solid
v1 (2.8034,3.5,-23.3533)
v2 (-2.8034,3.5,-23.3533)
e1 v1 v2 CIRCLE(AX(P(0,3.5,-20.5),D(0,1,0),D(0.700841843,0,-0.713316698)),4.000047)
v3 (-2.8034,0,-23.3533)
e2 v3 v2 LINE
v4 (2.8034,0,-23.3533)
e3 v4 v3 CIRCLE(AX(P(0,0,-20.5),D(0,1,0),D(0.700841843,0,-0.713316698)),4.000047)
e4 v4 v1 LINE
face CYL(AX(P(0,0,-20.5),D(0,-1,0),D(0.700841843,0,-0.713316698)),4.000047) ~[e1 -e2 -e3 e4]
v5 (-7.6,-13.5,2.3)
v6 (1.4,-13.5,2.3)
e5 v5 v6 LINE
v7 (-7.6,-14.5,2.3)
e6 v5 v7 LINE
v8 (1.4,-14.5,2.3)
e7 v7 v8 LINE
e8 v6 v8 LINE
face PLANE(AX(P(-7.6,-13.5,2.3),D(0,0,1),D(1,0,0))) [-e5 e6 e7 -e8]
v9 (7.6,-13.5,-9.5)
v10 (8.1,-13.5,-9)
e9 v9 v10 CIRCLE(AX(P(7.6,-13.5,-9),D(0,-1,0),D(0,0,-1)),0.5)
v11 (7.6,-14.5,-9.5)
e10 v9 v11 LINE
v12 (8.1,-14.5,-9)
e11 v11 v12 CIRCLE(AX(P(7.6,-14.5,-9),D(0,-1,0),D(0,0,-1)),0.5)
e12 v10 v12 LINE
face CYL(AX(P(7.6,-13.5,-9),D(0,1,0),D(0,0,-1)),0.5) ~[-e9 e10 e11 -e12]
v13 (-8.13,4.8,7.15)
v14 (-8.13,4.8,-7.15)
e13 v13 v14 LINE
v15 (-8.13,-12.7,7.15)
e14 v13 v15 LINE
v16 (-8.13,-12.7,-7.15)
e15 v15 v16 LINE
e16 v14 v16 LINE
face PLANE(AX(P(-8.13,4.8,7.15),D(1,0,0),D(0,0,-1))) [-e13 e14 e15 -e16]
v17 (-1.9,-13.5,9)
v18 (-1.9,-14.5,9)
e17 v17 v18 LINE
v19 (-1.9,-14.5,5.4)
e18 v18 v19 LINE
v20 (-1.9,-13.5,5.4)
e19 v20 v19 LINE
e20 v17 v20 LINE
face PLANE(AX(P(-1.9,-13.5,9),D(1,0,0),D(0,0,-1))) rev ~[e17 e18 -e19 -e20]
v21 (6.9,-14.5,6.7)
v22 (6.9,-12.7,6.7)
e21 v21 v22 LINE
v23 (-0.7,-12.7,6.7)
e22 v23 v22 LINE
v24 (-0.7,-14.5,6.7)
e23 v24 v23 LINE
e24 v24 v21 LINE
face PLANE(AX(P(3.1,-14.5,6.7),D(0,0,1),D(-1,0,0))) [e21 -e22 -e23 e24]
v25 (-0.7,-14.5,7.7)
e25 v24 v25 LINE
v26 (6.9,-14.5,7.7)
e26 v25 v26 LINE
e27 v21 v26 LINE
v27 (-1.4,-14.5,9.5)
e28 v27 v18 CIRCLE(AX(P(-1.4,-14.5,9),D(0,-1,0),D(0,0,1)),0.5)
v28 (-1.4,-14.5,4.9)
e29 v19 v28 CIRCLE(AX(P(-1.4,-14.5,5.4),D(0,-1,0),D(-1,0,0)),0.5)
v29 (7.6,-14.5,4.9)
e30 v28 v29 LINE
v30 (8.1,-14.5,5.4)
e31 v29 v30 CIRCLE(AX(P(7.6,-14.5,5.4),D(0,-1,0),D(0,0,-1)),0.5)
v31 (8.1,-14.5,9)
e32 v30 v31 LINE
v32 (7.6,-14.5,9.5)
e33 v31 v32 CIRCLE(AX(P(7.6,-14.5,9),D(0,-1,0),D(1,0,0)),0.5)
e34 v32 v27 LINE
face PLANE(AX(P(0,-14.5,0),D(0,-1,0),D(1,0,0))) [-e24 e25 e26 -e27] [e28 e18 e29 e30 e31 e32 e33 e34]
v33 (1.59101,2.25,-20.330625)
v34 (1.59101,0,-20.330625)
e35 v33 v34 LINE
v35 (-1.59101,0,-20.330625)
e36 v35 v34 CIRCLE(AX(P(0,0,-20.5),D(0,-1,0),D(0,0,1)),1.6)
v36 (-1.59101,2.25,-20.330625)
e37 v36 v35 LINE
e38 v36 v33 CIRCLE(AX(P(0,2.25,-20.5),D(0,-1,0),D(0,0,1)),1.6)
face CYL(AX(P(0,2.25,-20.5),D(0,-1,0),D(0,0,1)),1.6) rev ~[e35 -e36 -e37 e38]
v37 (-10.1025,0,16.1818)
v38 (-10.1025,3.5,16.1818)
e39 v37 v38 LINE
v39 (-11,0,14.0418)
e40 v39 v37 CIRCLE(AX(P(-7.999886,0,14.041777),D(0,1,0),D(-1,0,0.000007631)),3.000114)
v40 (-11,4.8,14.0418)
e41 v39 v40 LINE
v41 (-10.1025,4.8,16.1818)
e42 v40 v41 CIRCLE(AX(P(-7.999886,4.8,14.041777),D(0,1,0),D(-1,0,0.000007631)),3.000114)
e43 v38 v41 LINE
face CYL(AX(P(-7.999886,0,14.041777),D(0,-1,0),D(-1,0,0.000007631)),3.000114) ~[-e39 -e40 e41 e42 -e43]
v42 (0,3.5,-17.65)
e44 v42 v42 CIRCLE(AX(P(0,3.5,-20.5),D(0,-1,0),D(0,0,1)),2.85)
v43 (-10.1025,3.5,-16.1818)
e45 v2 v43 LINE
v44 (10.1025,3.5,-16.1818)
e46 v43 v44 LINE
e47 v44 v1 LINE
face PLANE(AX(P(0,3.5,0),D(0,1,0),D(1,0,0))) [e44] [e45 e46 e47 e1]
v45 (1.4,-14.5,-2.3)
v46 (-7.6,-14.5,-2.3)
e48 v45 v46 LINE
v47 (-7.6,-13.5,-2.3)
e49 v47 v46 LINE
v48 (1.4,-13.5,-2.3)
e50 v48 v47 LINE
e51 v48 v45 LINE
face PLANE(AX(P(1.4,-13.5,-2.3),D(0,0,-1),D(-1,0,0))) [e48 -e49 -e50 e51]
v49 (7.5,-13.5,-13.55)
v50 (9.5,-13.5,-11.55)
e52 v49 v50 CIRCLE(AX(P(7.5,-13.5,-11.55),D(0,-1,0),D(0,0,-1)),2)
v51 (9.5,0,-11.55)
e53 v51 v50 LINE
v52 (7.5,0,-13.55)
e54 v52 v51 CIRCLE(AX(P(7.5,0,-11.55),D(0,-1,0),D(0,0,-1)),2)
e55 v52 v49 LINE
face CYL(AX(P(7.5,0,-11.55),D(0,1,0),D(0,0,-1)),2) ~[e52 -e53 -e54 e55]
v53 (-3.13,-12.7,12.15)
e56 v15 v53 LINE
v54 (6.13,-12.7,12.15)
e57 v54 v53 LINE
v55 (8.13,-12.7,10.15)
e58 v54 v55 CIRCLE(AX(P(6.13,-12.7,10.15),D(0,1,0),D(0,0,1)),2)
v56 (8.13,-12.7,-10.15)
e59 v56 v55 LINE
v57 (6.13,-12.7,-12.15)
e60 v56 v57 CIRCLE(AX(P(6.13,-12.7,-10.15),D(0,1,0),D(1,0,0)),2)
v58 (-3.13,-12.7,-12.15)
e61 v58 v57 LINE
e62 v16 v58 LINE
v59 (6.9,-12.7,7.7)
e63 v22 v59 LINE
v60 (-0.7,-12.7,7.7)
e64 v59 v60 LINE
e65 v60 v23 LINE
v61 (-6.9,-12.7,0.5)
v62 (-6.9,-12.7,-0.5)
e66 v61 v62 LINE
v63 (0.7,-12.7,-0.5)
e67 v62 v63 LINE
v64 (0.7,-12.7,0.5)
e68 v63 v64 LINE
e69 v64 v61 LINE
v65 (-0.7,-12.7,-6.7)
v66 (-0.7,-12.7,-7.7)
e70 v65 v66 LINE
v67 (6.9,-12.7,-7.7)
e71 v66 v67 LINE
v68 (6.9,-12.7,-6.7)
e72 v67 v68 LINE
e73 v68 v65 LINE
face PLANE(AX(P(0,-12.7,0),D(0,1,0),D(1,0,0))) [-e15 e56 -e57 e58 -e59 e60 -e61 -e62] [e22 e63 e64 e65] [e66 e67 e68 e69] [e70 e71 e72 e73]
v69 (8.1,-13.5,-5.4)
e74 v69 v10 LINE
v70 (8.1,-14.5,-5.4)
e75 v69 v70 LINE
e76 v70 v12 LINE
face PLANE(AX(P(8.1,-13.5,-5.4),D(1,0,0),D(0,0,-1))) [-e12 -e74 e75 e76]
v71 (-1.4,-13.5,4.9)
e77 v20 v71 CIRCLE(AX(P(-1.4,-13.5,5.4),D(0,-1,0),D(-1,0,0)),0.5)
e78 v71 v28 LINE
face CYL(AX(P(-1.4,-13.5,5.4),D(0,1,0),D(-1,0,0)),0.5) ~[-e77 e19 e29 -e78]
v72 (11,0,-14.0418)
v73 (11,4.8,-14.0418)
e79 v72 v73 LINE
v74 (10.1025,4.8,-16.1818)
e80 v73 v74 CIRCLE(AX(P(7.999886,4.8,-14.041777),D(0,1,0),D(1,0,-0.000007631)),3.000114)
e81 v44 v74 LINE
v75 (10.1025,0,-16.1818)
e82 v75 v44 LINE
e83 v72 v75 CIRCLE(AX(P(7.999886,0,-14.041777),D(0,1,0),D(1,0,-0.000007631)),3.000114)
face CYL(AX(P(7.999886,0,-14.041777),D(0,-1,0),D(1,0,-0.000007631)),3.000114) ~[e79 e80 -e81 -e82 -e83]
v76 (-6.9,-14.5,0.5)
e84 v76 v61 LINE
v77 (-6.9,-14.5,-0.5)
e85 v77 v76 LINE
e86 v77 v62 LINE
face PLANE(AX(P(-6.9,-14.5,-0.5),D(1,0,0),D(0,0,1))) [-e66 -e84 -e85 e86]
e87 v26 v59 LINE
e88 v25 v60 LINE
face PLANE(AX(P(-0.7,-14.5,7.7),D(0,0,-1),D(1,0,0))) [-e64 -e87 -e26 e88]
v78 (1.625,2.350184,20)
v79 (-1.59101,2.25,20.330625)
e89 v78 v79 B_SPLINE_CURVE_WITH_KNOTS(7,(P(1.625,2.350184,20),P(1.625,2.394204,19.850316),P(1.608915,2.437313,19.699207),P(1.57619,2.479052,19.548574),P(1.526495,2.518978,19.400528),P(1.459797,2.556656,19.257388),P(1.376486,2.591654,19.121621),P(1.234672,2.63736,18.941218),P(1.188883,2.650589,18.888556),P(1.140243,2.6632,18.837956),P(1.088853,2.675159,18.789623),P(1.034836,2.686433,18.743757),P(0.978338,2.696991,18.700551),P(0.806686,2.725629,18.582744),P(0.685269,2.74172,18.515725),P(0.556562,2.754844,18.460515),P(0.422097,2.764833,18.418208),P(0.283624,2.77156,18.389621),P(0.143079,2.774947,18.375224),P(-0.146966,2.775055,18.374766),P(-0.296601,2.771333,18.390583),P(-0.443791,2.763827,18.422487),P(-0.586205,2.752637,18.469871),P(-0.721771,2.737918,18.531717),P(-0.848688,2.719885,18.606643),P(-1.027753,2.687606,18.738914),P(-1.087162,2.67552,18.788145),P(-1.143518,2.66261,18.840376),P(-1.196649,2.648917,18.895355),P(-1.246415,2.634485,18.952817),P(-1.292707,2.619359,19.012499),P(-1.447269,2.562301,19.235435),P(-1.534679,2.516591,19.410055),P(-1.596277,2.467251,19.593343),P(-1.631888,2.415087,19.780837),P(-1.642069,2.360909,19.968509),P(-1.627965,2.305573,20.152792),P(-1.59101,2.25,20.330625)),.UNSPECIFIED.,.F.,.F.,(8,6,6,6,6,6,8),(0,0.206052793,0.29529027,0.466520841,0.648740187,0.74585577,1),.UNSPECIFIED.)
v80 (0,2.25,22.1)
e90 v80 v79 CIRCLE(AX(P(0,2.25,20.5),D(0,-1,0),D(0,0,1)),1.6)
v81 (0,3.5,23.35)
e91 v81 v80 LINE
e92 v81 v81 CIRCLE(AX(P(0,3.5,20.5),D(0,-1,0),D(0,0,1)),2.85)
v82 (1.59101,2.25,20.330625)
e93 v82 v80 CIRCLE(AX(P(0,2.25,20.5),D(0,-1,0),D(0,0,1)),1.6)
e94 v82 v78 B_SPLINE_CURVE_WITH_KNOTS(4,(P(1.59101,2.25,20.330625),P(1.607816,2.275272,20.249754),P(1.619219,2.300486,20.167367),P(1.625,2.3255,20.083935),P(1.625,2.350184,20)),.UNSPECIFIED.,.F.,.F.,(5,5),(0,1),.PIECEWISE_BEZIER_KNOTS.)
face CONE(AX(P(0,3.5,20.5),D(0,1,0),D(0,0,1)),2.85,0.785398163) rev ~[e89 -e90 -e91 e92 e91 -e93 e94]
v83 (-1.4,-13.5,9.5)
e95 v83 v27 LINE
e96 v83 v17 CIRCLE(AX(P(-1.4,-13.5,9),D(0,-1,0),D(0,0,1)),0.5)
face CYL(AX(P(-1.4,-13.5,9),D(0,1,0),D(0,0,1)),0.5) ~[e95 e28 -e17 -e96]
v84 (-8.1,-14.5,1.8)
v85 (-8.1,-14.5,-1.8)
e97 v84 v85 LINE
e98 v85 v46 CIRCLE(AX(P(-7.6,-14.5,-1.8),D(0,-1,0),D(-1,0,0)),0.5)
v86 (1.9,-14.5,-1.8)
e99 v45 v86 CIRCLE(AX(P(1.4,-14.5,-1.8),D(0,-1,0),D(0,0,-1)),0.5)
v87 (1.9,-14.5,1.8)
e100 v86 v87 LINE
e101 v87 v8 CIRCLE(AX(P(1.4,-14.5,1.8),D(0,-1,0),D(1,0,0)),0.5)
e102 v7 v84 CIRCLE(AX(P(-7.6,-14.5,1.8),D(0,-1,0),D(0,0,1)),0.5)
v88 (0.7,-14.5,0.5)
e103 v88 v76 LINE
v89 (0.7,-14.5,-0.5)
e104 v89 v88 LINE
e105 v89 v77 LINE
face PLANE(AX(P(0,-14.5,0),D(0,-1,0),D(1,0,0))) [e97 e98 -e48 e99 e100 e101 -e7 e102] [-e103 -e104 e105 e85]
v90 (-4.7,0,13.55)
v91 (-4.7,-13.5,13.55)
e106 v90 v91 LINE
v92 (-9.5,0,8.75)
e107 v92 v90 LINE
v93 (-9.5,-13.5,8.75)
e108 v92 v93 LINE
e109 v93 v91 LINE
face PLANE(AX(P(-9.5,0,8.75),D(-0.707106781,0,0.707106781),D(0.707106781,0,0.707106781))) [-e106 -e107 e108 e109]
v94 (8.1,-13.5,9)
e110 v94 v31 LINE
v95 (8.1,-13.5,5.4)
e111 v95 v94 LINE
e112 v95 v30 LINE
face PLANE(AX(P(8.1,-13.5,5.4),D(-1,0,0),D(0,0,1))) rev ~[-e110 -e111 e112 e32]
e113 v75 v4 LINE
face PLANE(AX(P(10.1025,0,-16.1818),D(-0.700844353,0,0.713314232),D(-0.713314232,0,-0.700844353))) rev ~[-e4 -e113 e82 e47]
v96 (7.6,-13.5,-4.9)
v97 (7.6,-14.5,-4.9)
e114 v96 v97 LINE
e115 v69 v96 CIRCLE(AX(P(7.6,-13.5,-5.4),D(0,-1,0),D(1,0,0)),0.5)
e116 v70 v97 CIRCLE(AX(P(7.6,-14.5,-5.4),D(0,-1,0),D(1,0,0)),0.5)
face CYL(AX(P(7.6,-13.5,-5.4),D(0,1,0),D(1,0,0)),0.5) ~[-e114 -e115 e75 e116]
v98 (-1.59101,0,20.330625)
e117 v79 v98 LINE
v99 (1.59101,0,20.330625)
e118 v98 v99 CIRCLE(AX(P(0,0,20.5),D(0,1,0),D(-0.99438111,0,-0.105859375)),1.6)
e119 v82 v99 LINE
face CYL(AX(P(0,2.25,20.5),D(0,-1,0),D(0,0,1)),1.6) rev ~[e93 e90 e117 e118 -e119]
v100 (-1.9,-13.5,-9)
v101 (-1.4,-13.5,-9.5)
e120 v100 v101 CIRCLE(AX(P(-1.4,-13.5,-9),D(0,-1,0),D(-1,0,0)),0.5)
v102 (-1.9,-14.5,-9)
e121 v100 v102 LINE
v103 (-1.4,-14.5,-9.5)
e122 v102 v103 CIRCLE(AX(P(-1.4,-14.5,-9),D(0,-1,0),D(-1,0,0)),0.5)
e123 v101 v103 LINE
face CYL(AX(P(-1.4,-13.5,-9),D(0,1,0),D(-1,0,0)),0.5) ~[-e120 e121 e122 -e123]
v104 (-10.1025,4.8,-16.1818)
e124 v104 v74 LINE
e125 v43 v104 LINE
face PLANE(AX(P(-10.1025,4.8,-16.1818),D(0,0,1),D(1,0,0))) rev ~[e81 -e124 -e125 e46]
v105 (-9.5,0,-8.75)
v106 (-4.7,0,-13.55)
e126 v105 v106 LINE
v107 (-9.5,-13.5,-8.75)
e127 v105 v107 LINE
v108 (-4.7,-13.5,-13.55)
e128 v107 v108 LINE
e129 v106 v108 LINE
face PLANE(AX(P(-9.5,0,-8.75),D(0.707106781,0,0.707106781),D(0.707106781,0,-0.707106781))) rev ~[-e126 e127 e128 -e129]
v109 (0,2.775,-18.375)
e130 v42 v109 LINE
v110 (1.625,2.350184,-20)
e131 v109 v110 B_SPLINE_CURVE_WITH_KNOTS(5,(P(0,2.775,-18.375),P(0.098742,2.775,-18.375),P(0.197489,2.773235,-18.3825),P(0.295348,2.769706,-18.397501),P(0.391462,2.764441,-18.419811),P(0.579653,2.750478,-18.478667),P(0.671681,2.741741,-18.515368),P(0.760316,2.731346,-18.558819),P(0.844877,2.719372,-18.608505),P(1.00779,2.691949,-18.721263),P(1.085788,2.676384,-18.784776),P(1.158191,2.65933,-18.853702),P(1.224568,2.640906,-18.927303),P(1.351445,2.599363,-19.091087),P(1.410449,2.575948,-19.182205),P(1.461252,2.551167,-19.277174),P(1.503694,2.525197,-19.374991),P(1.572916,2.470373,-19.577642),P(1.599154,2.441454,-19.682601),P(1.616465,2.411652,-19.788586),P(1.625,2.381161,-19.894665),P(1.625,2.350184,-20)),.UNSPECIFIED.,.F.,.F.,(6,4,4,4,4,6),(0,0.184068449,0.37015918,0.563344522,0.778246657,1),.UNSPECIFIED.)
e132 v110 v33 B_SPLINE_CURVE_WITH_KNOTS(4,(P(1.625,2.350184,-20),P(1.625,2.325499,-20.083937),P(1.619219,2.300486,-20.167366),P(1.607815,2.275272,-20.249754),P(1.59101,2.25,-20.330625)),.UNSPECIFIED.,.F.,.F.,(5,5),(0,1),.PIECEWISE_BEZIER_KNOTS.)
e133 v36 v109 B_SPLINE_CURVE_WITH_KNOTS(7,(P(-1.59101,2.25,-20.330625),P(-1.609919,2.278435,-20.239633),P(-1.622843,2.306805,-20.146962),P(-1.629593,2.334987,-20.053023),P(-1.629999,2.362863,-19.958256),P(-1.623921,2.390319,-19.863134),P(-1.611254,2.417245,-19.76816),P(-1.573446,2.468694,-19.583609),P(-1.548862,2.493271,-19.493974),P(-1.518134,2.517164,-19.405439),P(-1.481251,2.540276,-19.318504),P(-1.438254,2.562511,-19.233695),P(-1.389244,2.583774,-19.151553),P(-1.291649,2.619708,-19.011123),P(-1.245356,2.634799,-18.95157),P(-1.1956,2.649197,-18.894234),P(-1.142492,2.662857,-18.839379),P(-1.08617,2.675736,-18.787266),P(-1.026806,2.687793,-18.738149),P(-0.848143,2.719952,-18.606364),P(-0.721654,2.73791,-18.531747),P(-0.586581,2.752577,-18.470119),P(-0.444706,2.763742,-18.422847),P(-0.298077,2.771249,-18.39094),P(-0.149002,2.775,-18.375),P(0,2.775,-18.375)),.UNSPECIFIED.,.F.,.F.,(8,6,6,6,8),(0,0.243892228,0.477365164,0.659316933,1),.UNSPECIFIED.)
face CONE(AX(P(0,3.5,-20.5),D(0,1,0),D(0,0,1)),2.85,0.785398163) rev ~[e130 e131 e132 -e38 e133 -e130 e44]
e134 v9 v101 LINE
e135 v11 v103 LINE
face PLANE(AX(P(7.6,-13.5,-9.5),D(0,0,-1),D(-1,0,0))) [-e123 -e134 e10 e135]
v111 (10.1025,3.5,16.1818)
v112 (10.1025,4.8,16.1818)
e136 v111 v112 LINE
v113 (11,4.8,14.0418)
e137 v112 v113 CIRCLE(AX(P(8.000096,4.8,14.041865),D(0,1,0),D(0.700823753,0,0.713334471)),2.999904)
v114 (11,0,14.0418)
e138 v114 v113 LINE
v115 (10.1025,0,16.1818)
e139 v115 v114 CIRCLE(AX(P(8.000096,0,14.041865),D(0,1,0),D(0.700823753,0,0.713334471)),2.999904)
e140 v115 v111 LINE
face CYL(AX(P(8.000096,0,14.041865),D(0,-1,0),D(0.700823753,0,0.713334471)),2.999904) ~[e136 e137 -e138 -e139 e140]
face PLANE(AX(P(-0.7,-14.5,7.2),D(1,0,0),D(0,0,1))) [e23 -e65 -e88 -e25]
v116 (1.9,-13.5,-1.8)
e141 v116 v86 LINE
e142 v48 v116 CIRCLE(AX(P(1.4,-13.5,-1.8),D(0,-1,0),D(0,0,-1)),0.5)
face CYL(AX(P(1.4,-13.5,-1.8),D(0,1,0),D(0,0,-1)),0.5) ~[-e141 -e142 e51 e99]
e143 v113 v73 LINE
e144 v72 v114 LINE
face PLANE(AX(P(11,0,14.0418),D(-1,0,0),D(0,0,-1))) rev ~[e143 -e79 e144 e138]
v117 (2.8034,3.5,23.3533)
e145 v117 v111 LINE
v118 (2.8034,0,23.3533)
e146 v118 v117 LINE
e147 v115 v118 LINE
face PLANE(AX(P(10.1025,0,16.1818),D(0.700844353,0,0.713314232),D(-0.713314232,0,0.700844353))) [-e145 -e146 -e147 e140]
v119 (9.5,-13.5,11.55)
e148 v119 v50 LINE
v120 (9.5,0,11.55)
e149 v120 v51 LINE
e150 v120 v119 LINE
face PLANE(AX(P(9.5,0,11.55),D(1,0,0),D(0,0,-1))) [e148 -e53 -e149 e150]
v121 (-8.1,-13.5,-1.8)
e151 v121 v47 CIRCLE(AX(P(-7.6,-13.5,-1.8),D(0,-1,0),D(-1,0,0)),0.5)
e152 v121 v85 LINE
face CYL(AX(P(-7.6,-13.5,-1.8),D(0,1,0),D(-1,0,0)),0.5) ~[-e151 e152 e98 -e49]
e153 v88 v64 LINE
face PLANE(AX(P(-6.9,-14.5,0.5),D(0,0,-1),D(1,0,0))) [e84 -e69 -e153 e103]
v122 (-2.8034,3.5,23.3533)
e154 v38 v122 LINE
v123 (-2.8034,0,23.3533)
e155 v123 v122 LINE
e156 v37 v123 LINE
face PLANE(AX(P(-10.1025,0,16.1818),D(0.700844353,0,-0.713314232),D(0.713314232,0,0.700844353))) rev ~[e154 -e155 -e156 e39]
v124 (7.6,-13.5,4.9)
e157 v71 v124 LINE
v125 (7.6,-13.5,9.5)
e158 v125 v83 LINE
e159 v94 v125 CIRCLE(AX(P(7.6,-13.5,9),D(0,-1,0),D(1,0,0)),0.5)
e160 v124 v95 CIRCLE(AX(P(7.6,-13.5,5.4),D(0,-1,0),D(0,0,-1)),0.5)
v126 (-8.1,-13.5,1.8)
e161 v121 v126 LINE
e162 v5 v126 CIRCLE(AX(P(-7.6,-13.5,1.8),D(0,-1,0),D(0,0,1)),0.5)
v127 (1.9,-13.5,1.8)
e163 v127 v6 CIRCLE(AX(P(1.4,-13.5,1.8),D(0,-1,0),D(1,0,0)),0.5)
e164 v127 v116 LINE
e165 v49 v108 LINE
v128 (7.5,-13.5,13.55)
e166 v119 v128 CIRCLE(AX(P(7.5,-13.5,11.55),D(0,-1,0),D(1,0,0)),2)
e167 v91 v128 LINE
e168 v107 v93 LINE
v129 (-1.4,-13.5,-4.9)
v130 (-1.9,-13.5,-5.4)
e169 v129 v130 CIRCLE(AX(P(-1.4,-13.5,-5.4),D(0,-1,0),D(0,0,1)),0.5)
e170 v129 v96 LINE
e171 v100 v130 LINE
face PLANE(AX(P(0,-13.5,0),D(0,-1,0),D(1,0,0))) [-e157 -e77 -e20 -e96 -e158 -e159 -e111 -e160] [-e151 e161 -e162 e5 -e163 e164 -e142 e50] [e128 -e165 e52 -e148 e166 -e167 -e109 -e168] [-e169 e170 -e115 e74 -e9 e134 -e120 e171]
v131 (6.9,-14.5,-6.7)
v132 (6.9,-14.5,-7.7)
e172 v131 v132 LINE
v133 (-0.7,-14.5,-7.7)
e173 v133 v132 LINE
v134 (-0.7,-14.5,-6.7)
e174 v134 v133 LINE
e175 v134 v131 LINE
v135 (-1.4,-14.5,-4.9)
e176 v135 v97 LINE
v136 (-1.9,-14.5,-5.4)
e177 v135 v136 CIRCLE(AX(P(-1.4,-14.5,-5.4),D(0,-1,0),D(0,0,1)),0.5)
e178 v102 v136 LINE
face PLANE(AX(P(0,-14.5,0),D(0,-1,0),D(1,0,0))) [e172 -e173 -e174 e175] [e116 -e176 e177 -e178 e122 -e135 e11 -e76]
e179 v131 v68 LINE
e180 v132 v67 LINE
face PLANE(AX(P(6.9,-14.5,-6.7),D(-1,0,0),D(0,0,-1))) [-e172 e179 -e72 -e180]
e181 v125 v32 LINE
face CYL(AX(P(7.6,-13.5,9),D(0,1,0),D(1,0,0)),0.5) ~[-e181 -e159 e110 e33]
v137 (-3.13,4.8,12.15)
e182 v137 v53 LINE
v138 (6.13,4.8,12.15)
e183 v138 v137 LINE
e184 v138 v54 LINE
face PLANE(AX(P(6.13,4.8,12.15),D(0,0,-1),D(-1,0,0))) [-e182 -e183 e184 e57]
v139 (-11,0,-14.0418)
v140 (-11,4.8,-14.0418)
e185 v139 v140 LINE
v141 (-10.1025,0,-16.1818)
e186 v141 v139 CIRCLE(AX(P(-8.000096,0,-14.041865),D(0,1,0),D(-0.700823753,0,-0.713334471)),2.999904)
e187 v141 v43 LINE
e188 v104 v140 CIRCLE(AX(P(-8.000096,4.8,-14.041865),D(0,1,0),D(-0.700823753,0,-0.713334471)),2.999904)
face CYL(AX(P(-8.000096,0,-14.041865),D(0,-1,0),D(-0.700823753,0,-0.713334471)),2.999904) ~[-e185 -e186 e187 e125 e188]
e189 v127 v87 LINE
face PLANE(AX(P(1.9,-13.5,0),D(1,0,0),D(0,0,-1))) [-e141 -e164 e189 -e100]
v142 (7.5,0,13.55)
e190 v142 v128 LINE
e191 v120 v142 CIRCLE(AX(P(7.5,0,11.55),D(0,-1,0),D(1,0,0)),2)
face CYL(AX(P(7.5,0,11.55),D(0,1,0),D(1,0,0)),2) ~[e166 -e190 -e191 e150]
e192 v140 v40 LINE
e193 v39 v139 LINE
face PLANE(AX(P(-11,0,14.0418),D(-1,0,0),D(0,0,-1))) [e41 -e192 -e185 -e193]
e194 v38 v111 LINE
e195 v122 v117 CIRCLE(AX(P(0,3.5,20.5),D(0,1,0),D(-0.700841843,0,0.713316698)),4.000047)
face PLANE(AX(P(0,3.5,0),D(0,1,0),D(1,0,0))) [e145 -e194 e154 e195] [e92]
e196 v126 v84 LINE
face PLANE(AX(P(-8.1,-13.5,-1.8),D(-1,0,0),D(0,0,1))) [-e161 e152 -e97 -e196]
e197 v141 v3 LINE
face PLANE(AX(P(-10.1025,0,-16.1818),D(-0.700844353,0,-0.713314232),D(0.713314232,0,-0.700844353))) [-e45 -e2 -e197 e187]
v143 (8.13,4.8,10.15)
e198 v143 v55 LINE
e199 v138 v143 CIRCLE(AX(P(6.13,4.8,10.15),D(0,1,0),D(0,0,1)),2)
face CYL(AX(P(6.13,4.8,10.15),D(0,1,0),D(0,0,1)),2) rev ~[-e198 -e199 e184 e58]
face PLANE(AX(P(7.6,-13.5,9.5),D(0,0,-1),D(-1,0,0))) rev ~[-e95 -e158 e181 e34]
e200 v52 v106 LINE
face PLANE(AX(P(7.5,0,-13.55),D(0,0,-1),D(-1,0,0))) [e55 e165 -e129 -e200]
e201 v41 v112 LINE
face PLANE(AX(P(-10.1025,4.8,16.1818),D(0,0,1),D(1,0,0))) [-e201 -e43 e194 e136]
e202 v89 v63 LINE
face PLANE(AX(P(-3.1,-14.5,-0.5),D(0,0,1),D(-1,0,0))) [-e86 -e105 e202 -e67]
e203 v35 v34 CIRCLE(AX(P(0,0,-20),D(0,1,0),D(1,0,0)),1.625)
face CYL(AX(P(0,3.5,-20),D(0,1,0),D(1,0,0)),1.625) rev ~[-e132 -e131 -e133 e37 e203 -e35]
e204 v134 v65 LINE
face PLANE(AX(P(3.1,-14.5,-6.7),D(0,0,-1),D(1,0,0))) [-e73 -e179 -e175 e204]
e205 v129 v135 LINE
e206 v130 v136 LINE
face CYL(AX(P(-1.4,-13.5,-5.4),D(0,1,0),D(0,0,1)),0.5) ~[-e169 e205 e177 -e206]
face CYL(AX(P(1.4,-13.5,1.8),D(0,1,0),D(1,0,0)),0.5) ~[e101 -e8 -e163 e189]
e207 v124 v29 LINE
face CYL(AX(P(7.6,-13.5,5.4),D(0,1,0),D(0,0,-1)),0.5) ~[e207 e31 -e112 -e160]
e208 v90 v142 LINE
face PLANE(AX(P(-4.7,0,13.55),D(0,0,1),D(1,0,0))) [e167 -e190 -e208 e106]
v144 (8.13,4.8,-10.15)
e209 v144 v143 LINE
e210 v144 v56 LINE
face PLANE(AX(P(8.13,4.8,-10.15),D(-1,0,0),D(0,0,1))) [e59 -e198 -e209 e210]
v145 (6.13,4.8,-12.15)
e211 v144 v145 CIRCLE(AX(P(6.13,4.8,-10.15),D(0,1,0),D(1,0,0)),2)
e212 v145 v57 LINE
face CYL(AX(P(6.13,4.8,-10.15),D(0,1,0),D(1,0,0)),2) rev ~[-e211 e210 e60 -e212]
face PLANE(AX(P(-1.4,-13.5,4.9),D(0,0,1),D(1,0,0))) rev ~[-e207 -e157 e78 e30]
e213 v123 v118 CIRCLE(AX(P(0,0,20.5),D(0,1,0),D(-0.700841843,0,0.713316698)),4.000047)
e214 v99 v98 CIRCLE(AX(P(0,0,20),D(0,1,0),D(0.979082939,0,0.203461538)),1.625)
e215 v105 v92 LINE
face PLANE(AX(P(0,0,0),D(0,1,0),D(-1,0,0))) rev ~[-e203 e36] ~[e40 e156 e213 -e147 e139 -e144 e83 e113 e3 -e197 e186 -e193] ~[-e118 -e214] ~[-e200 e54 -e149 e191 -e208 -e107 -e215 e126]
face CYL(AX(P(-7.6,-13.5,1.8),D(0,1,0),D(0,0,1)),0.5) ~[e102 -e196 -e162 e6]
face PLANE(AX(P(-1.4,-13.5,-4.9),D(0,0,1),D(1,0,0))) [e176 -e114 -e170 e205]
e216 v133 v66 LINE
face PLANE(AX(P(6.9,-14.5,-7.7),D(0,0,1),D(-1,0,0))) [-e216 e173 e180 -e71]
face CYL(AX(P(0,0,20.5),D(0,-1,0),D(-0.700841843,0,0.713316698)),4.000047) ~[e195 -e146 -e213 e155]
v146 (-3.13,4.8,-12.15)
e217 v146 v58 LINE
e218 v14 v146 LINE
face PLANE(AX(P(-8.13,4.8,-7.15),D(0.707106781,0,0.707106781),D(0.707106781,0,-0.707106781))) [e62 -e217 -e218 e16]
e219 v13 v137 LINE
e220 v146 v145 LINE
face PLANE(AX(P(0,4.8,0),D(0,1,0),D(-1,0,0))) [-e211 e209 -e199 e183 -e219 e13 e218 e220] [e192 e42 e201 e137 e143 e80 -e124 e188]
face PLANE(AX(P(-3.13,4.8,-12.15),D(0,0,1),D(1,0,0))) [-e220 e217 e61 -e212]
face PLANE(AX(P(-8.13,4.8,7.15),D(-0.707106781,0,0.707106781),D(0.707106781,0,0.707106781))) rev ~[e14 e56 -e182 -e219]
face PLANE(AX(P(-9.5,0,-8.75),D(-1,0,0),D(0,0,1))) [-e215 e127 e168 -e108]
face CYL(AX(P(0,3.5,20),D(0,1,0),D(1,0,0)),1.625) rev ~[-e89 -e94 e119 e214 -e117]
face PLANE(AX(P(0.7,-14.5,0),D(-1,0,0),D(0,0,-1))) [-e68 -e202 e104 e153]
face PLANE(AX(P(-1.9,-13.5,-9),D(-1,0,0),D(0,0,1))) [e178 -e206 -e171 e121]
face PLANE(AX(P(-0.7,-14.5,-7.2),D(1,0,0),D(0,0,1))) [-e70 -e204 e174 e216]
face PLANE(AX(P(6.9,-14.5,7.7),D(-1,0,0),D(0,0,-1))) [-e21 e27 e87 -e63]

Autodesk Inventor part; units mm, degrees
ref_plane "YZ Plane" through (0, 0, 0) normal (1, 0, 0) x (0, 1, 0)
ref_plane "XZ Plane" through (0, 0, 0) normal (0, 1, 0) x (-1, 0, 0)
ref_plane "XY Plane" through (0, 0, 0) normal (0, 0, 1) x (1, 0, 0)
sketch "Sketch1" plane through (0, 0, 0) normal (0, 1, 0) x (-1, 0, 0)
  arc A0 (2.8034, 23.3533) -> (-2.8034, 23.3533) centre (0, 20.5) ccw
  line L0 (-11, 14.0418) -> (-11, 0)
  line L1 (11, 14.0418) -> (11, 0)
  line L2 (11, 0) -> (-11, 0)
  line L3 (10.1025, 16.1818) -> (2.8034, 23.3533)
  line L4 (-10.1025, 16.1818) -> (-2.8034, 23.3533)
  arc A1 (11, 14.0418) -> (10.1025, 16.1818) centre (8, 14.0418) ccw
  arc A2 (-10.1025, 16.1818) -> (-11, 14.0418) centre (-8, 14.0418) ccw
  arc A3 (-2.8034, -23.3533) -> (2.8034, -23.3533) centre (0, -20.5) ccw
  line L5 (-11, -14.0418) -> (-11, 0)
  line L6 (11, -14.0418) -> (11, 0)
  line L7 (10.1025, -16.1818) -> (2.8034, -23.3533)
  line L8 (-10.1025, -16.1818) -> (-2.8034, -23.3533)
  arc A4 (10.1025, -16.1818) -> (11, -14.0418) centre (8, -14.0418) ccw
  arc A5 (-11, -14.0418) -> (-10.1025, -16.1818) centre (-8, -14.0418) ccw
  point P0 (0, 0)
  point P1 (11, 15.3)
  point P2 (-11, 15.3)
  point P3 (11, -15.3)
  point P4 (-11, -15.3)
  dimension "d0" = 0
  dimension "d1" = 22
  dimension "d2" = 11
  dimension "d3" = 8
  dimension "d4" = 15.3
  dimension "d5" = 0
  dimension "d6" = 15.3
  dimension "d7" = 20.5
  dimension "d8" = 3
extrude "Extrusion1" add sketch "Sketch1" along normal blind 4.8
sketch "Sketch2" plane through (0, 4.8, 0) normal (0, 1, 0) x (1, 0, 0)
  line L0 (-10.1025, -16.1818) -> (-2.8034, -23.3533) projected
  line L1 (2.8034, -23.3533) -> (10.1025, -16.1818) projected
  line L2 (-10.1025, -16.1818) -> (10.1025, -16.1818)
  line L3 (-2.8034, 23.3533) -> (-10.1025, 16.1818) projected
  line L4 (10.1025, 16.1818) -> (2.8034, 23.3533) projected
  line L5 (-10.1025, 16.1818) -> (10.1025, 16.1818)
  arc A0 (-2.8034, -23.3533) -> (2.8034, -23.3533) centre (0, -20.5) ccw projected
  arc A1 (2.8034, 23.3533) -> (-2.8034, 23.3533) centre (0, 20.5) ccw projected
  point P0 (0, 0)
extrude "Extrusion2" cut sketch "Sketch2" against normal blind 1.3
sketch "Sketch3" plane through (0, 3.5, 0) normal (0, 1, 0) x (1, 0, 0)
  arc A0 (-2.8034, -23.3533) -> (2.8034, -23.3533) centre (0, -20.5) ccw projected
  point P0 (0, 0)
  point P1 (0, 20.5)
hole "Hole1" at (0, 3.5, 20.5) at (0, 3.5, -20.5) direction (0, -1, 0) diameter 3.2 depth 8 tip angle 118 countersink diameter 5.7 countersink angle 90
sketch "Sketch5" plane through (0, 0, 0) normal (0, -1, 0) x (1, 0, 0)
  line L0 (7.5, -13.55) -> (-4.7, -13.55)
  line L1 (-9.5, -8.75) -> (-9.5, 8.75)
  line L2 (-4.7, 13.55) -> (7.5, 13.55)
  line L3 (9.5, 11.55) -> (9.5, -11.55)
  line L4 (9.5, -13.55) -> (-9.5, 13.55) construction
  line L5 (-9.5, -13.55) -> (9.5, 13.55) construction
  line L6 (-9.5, -8.75) -> (-4.7, -13.55)
  line L7 (-9.5, 8.75) -> (-4.7, 13.55)
  arc A0 (7.5, -13.55) -> (9.5, -11.55) centre (7.5, -11.55) ccw
  arc A1 (9.5, 11.55) -> (7.5, 13.55) centre (7.5, 11.55) ccw
  point P0 (0, 0)
  dimension "d20" = 4.8
  dimension "d21" = 4.8
  dimension "d22" = 4.8
  dimension "d23" = 4.8
  dimension "d24" = 19
  dimension "d25" = 2
  dimension "d26" = 27.1
extrude "Extrusion3" add sketch "Sketch5" along normal blind 13.5
sketch "Sketch6" plane through (0, 4.8, 0) normal (0, 1, 0) x (1, 0, 0)
  line L0 (6.13, -12.15) -> (-3.13, -12.15)
  line L1 (-8.13, -7.15) -> (-8.13, 7.15)
  line L2 (-3.13, 12.15) -> (6.13, 12.15)
  line L3 (8.13, 10.15) -> (8.13, -10.15)
  line L4 (8.13, -12.15) -> (-8.13, 12.15) construction
  line L5 (-8.13, -12.15) -> (8.13, 12.15) construction
  arc A0 (6.13, -12.15) -> (8.13, -10.15) centre (6.13, -10.15) ccw
  arc A1 (8.13, 10.15) -> (6.13, 12.15) centre (6.13, 10.15) ccw
  line L6 (-8.13, -7.15) -> (-3.13, -12.15)
  line L7 (-8.13, 7.15) -> (-3.13, 12.15)
  point P0 (0, 0)
  dimension "d29" = 2
  dimension "d30" = 24.3
  dimension "d31" = 16.26
  dimension "d32" = 5
  dimension "d33" = 45
  dimension "d34" = 5
  dimension "d35" = 45
extrude "Extrusion4" cut sketch "Sketch6" against normal blind 17.5
sketch "Sketch7" plane through (0, -13.5, 0) normal (0, -1, 0) x (1, 0, 0)
  line L0 (1.4, -2.3) -> (-7.6, -2.3)
  line L1 (-8.1, -1.8) -> (-8.1, 1.8)
  line L2 (-7.6, 2.3) -> (1.4, 2.3)
  line L3 (1.9, 1.8) -> (1.9, -1.8)
  line L4 (1.9, -2.3) -> (-8.1, 2.3) construction
  line L5 (-8.1, -2.3) -> (1.9, 2.3) construction
  line L6 (7.6, -9.5) -> (-1.4, -9.5)
  line L7 (-1.9, -9) -> (-1.9, -5.4)
  line L8 (-1.4, -4.9) -> (7.6, -4.9)
  line L9 (8.1, -5.4) -> (8.1, -9)
  line L10 (8.1, -9.5) -> (-1.9, -4.9) construction
  line L11 (-1.9, -9.5) -> (8.1, -4.9) construction
  line L12 (-9.5, -8.75) -> (-4.7, -13.55) projected
  line L13 (-4.7, -13.55) -> (7.5, -13.55) projected
  arc A0 (7.5, -13.55) -> (9.5, -11.55) centre (7.5, -11.55) ccw projected
  line L14 (9.5, -11.55) -> (9.5, 11.55) projected
  arc A1 (9.5, 11.55) -> (7.5, 13.55) centre (7.5, 11.55) ccw projected
  line L15 (7.5, 13.55) -> (-4.7, 13.55) projected
  line L16 (-4.7, 13.55) -> (-9.5, 8.75) projected
  line L17 (-9.5, 8.75) -> (-9.5, -8.75) projected
  line L18 (-9.5, 0) -> (9.5, 0)
  arc A2 (-8.1, -1.8) -> (-7.6, -2.3) centre (-7.6, -1.8) ccw
  arc A3 (-7.6, 2.3) -> (-8.1, 1.8) centre (-7.6, 1.8) ccw
  arc A4 (1.9, 1.8) -> (1.4, 2.3) centre (1.4, 1.8) ccw
  arc A5 (1.4, -2.3) -> (1.9, -1.8) centre (1.4, -1.8) ccw
  arc A6 (-1.4, -4.9) -> (-1.9, -5.4) centre (-1.4, -5.4) ccw
  arc A7 (8.1, -5.4) -> (7.6, -4.9) centre (7.6, -5.4) ccw
  arc A8 (7.6, -9.5) -> (8.1, -9) centre (7.6, -9) ccw
  arc A9 (-1.9, -9) -> (-1.4, -9.5) centre (-1.4, -9) ccw
  line L19 (7.6, 9.5) -> (-1.4, 9.5)
  line L20 (-1.9, 9) -> (-1.9, 5.4)
  line L21 (-1.4, 4.9) -> (7.6, 4.9)
  line L22 (8.1, 5.4) -> (8.1, 9)
  line L23 (8.1, 9.5) -> (-1.9, 4.9) construction
  line L24 (-1.9, 9.5) -> (8.1, 4.9) construction
  arc A10 (-1.9, 5.4) -> (-1.4, 4.9) centre (-1.4, 5.4) ccw
  arc A11 (7.6, 4.9) -> (8.1, 5.4) centre (7.6, 5.4) ccw
  arc A12 (8.1, 9) -> (7.6, 9.5) centre (7.6, 9) ccw
  arc A13 (-1.4, 9.5) -> (-1.9, 9) centre (-1.4, 9) ccw
  point P0 (0, 0)
  point P1 (-3.1, 0)
  point P2 (3.1, -7.2)
  point P3 (3.1, 7.2)
  dimension "d38" = 10
  dimension "d39" = 4.6
  dimension "d40" = 2.6
  dimension "d41" = 10
  dimension "d42" = 4.6
  dimension "d43" = 0.5
  dimension "d44" = 1.4
  dimension "d45" = 1.4
extrude "Extrusion5" add sketch "Sketch7" along normal blind 1 contours L0 A2 L1 L18 L3 A5 | L18 L1 A3 L2 A4 L3 | L6 A9 L7 A6 L8 A7 L9 A8 | A12 L22 A11 L21 A10 L20 A13 L19
sketch "Sketch8" plane through (0, -14.5, 0) normal (0, -1, 0) x (1, 0, 0)
  line L0 (-7.6, -2.3) -> (1.4, -2.3) projected
  arc A0 (1.4, -2.3) -> (1.9, -1.8) centre (1.4, -1.8) ccw projected
  line L1 (1.9, -1.8) -> (1.9, 1.8) projected
  arc A1 (1.9, 1.8) -> (1.4, 2.3) centre (1.4, 1.8) ccw projected
  line L2 (1.4, 2.3) -> (-7.6, 2.3) projected
  arc A2 (-7.6, 2.3) -> (-8.1, 1.8) centre (-7.6, 1.8) ccw projected
  line L3 (-8.1, 1.8) -> (-8.1, -1.8) projected
  arc A3 (-8.1, -1.8) -> (-7.6, -2.3) centre (-7.6, -1.8) ccw projected
  line L4 (7.6, -4.9) -> (-1.4, -4.9) projected
  arc A4 (-1.4, -4.9) -> (-1.9, -5.4) centre (-1.4, -5.4) ccw projected
  line L5 (-1.9, -5.4) -> (-1.9, -9) projected
  arc A5 (-1.9, -9) -> (-1.4, -9.5) centre (-1.4, -9) ccw projected
  line L6 (-1.4, -9.5) -> (7.6, -9.5) projected
  arc A6 (7.6, -9.5) -> (8.1, -9) centre (7.6, -9) ccw projected
  line L7 (8.1, -9) -> (8.1, -5.4) projected
  arc A7 (8.1, -5.4) -> (7.6, -4.9) centre (7.6, -5.4) ccw projected
  line L8 (-1.9, 9) -> (-1.9, 5.4) projected
  arc A8 (-1.9, 5.4) -> (-1.4, 4.9) centre (-1.4, 5.4) ccw projected
  line L9 (-1.4, 4.9) -> (7.6, 4.9) projected
  arc A9 (7.6, 4.9) -> (8.1, 5.4) centre (7.6, 5.4) ccw projected
  line L10 (8.1, 5.4) -> (8.1, 9) projected
  arc A10 (8.1, 9) -> (7.6, 9.5) centre (7.6, 9) ccw projected
  line L11 (7.6, 9.5) -> (-1.4, 9.5) projected
  arc A11 (-1.4, 9.5) -> (-1.9, 9) centre (-1.4, 9) ccw projected
  line L12 (-8.1, 1.8) -> (-8.1, -1.8) projected
  line L13 (-8.1, 0) -> (1.9, 0)
  line L14 (-7.6, -2.3) -> (1.4, -2.3) projected
  line L15 (-3.1, -2.3) -> (-3.1, 2.3)
  line L16 (-1.9, -5.4) -> (-1.9, -9) projected
  line L17 (-1.9, -7.2) -> (8.1, -7.2)
  line L18 (7.6, -9.5) -> (-1.4, -9.5) projected
  line L19 (3.1, -9.5) -> (3.1, -4.9)
  line L20 (7.6, -4.9) -> (-1.4, -4.9) projected
  line L21 (3.1, 4.9) -> (3.1, 9.5)
  line L22 (-1.9, 9) -> (-1.9, 5.4) projected
  line L23 (-1.9, 7.2) -> (8.1, 7.2)
  line L24 (6.9, -7.7) -> (-0.7, -7.7)
  line L25 (-0.7, -7.7) -> (-0.7, -6.7)
  line L26 (-0.7, -6.7) -> (6.9, -6.7)
  line L27 (6.9, -6.7) -> (6.9, -7.7)
  line L28 (6.9, -7.7) -> (-0.7, -6.7) construction
  line L29 (-0.7, -7.7) -> (6.9, -6.7) construction
  line L30 (0.7, -0.5) -> (-6.9, -0.5)
  line L31 (-6.9, -0.5) -> (-6.9, 0.5)
  line L32 (-6.9, 0.5) -> (0.7, 0.5)
  line L33 (0.7, 0.5) -> (0.7, -0.5)
  line L34 (0.7, -0.5) -> (-6.9, 0.5) construction
  line L35 (-6.9, -0.5) -> (0.7, 0.5) construction
  line L36 (6.9, 6.7) -> (-0.7, 6.7)
  line L37 (-0.7, 6.7) -> (-0.7, 7.7)
  line L38 (-0.7, 7.7) -> (6.9, 7.7)
  line L39 (6.9, 7.7) -> (6.9, 6.7)
  line L40 (6.9, 6.7) -> (-0.7, 7.7) construction
  line L41 (-0.7, 6.7) -> (6.9, 7.7) construction
  point P0 (0, 0)
  point P1 (3.1, -7.2)
  point P2 (-3.1, 0)
  point P3 (3.1, 7.2)
  dimension "d48" = 7.6
  dimension "d49" = 7.6
  dimension "d50" = 7.6
  dimension "d52" = 1
  dimension "d53" = 1
  dimension "d54" = 1
extrude "Extrusion6" cut sketch "Sketch8" against normal through all contours L30 L31 L13 L15 | L15 L13 L33 L30 | L15 L32 L33 L13 | L13 L31 L32 L15 | L26 L27 L17 L19 | L19 L17 L25 L26 | L19 L24 L25 L17 | L17 L27 L24 L19 | L37 L38 L21 L23 | L23 L21 L36 L37 | L23 L39 L36 L21 | L21 L38 L39 L23
sketch "Sketch9" plane through (0, 3.5, 0) normal (0, 1, 0) x (1, 0, 0)
  circle A0 centre (0, 20.5) radius 1.6 projected
  circle A1 centre (0, 20.5) radius 0.2629
  circle A2 centre (0, 20) radius 1.625
  line L0 (0, 20) -> (0, -20)
  circle A3 centre (0, -20) radius 1.625
  point P0 (0, 0)
  point P1 (-1.591, 20.3306)
  point P2 (1.591, 20.3306)
  dimension "d57" = 3.25
  dimension "d58" = 0.5
  dimension "d61" = 40
  dimension "d62" = 3.25
extrude "Extrusion7" cut sketch "Sketch9" against normal blind 10 contours A3 | A0 L0 A2 | A2 L0 A0
equation "\"d2\" = 0.5 * d1"
equation "\"d6\" = d4"
equation "\"d21\" = d20"
equation "\"d22\" = d20"
equation "\"d23\" = d22"
equation "\"d34\" = d32"
equation "\"d35\" = d33"
equation "\"d42\" = d39"
equation "\"d49\" = d48"
equation "\"d50\" = d48"
equation "\"d53\" = d52"
equation "\"d54\" = d52"
properties part number "PlugFemeaTomada" material "Plastic, Opaque Black"
